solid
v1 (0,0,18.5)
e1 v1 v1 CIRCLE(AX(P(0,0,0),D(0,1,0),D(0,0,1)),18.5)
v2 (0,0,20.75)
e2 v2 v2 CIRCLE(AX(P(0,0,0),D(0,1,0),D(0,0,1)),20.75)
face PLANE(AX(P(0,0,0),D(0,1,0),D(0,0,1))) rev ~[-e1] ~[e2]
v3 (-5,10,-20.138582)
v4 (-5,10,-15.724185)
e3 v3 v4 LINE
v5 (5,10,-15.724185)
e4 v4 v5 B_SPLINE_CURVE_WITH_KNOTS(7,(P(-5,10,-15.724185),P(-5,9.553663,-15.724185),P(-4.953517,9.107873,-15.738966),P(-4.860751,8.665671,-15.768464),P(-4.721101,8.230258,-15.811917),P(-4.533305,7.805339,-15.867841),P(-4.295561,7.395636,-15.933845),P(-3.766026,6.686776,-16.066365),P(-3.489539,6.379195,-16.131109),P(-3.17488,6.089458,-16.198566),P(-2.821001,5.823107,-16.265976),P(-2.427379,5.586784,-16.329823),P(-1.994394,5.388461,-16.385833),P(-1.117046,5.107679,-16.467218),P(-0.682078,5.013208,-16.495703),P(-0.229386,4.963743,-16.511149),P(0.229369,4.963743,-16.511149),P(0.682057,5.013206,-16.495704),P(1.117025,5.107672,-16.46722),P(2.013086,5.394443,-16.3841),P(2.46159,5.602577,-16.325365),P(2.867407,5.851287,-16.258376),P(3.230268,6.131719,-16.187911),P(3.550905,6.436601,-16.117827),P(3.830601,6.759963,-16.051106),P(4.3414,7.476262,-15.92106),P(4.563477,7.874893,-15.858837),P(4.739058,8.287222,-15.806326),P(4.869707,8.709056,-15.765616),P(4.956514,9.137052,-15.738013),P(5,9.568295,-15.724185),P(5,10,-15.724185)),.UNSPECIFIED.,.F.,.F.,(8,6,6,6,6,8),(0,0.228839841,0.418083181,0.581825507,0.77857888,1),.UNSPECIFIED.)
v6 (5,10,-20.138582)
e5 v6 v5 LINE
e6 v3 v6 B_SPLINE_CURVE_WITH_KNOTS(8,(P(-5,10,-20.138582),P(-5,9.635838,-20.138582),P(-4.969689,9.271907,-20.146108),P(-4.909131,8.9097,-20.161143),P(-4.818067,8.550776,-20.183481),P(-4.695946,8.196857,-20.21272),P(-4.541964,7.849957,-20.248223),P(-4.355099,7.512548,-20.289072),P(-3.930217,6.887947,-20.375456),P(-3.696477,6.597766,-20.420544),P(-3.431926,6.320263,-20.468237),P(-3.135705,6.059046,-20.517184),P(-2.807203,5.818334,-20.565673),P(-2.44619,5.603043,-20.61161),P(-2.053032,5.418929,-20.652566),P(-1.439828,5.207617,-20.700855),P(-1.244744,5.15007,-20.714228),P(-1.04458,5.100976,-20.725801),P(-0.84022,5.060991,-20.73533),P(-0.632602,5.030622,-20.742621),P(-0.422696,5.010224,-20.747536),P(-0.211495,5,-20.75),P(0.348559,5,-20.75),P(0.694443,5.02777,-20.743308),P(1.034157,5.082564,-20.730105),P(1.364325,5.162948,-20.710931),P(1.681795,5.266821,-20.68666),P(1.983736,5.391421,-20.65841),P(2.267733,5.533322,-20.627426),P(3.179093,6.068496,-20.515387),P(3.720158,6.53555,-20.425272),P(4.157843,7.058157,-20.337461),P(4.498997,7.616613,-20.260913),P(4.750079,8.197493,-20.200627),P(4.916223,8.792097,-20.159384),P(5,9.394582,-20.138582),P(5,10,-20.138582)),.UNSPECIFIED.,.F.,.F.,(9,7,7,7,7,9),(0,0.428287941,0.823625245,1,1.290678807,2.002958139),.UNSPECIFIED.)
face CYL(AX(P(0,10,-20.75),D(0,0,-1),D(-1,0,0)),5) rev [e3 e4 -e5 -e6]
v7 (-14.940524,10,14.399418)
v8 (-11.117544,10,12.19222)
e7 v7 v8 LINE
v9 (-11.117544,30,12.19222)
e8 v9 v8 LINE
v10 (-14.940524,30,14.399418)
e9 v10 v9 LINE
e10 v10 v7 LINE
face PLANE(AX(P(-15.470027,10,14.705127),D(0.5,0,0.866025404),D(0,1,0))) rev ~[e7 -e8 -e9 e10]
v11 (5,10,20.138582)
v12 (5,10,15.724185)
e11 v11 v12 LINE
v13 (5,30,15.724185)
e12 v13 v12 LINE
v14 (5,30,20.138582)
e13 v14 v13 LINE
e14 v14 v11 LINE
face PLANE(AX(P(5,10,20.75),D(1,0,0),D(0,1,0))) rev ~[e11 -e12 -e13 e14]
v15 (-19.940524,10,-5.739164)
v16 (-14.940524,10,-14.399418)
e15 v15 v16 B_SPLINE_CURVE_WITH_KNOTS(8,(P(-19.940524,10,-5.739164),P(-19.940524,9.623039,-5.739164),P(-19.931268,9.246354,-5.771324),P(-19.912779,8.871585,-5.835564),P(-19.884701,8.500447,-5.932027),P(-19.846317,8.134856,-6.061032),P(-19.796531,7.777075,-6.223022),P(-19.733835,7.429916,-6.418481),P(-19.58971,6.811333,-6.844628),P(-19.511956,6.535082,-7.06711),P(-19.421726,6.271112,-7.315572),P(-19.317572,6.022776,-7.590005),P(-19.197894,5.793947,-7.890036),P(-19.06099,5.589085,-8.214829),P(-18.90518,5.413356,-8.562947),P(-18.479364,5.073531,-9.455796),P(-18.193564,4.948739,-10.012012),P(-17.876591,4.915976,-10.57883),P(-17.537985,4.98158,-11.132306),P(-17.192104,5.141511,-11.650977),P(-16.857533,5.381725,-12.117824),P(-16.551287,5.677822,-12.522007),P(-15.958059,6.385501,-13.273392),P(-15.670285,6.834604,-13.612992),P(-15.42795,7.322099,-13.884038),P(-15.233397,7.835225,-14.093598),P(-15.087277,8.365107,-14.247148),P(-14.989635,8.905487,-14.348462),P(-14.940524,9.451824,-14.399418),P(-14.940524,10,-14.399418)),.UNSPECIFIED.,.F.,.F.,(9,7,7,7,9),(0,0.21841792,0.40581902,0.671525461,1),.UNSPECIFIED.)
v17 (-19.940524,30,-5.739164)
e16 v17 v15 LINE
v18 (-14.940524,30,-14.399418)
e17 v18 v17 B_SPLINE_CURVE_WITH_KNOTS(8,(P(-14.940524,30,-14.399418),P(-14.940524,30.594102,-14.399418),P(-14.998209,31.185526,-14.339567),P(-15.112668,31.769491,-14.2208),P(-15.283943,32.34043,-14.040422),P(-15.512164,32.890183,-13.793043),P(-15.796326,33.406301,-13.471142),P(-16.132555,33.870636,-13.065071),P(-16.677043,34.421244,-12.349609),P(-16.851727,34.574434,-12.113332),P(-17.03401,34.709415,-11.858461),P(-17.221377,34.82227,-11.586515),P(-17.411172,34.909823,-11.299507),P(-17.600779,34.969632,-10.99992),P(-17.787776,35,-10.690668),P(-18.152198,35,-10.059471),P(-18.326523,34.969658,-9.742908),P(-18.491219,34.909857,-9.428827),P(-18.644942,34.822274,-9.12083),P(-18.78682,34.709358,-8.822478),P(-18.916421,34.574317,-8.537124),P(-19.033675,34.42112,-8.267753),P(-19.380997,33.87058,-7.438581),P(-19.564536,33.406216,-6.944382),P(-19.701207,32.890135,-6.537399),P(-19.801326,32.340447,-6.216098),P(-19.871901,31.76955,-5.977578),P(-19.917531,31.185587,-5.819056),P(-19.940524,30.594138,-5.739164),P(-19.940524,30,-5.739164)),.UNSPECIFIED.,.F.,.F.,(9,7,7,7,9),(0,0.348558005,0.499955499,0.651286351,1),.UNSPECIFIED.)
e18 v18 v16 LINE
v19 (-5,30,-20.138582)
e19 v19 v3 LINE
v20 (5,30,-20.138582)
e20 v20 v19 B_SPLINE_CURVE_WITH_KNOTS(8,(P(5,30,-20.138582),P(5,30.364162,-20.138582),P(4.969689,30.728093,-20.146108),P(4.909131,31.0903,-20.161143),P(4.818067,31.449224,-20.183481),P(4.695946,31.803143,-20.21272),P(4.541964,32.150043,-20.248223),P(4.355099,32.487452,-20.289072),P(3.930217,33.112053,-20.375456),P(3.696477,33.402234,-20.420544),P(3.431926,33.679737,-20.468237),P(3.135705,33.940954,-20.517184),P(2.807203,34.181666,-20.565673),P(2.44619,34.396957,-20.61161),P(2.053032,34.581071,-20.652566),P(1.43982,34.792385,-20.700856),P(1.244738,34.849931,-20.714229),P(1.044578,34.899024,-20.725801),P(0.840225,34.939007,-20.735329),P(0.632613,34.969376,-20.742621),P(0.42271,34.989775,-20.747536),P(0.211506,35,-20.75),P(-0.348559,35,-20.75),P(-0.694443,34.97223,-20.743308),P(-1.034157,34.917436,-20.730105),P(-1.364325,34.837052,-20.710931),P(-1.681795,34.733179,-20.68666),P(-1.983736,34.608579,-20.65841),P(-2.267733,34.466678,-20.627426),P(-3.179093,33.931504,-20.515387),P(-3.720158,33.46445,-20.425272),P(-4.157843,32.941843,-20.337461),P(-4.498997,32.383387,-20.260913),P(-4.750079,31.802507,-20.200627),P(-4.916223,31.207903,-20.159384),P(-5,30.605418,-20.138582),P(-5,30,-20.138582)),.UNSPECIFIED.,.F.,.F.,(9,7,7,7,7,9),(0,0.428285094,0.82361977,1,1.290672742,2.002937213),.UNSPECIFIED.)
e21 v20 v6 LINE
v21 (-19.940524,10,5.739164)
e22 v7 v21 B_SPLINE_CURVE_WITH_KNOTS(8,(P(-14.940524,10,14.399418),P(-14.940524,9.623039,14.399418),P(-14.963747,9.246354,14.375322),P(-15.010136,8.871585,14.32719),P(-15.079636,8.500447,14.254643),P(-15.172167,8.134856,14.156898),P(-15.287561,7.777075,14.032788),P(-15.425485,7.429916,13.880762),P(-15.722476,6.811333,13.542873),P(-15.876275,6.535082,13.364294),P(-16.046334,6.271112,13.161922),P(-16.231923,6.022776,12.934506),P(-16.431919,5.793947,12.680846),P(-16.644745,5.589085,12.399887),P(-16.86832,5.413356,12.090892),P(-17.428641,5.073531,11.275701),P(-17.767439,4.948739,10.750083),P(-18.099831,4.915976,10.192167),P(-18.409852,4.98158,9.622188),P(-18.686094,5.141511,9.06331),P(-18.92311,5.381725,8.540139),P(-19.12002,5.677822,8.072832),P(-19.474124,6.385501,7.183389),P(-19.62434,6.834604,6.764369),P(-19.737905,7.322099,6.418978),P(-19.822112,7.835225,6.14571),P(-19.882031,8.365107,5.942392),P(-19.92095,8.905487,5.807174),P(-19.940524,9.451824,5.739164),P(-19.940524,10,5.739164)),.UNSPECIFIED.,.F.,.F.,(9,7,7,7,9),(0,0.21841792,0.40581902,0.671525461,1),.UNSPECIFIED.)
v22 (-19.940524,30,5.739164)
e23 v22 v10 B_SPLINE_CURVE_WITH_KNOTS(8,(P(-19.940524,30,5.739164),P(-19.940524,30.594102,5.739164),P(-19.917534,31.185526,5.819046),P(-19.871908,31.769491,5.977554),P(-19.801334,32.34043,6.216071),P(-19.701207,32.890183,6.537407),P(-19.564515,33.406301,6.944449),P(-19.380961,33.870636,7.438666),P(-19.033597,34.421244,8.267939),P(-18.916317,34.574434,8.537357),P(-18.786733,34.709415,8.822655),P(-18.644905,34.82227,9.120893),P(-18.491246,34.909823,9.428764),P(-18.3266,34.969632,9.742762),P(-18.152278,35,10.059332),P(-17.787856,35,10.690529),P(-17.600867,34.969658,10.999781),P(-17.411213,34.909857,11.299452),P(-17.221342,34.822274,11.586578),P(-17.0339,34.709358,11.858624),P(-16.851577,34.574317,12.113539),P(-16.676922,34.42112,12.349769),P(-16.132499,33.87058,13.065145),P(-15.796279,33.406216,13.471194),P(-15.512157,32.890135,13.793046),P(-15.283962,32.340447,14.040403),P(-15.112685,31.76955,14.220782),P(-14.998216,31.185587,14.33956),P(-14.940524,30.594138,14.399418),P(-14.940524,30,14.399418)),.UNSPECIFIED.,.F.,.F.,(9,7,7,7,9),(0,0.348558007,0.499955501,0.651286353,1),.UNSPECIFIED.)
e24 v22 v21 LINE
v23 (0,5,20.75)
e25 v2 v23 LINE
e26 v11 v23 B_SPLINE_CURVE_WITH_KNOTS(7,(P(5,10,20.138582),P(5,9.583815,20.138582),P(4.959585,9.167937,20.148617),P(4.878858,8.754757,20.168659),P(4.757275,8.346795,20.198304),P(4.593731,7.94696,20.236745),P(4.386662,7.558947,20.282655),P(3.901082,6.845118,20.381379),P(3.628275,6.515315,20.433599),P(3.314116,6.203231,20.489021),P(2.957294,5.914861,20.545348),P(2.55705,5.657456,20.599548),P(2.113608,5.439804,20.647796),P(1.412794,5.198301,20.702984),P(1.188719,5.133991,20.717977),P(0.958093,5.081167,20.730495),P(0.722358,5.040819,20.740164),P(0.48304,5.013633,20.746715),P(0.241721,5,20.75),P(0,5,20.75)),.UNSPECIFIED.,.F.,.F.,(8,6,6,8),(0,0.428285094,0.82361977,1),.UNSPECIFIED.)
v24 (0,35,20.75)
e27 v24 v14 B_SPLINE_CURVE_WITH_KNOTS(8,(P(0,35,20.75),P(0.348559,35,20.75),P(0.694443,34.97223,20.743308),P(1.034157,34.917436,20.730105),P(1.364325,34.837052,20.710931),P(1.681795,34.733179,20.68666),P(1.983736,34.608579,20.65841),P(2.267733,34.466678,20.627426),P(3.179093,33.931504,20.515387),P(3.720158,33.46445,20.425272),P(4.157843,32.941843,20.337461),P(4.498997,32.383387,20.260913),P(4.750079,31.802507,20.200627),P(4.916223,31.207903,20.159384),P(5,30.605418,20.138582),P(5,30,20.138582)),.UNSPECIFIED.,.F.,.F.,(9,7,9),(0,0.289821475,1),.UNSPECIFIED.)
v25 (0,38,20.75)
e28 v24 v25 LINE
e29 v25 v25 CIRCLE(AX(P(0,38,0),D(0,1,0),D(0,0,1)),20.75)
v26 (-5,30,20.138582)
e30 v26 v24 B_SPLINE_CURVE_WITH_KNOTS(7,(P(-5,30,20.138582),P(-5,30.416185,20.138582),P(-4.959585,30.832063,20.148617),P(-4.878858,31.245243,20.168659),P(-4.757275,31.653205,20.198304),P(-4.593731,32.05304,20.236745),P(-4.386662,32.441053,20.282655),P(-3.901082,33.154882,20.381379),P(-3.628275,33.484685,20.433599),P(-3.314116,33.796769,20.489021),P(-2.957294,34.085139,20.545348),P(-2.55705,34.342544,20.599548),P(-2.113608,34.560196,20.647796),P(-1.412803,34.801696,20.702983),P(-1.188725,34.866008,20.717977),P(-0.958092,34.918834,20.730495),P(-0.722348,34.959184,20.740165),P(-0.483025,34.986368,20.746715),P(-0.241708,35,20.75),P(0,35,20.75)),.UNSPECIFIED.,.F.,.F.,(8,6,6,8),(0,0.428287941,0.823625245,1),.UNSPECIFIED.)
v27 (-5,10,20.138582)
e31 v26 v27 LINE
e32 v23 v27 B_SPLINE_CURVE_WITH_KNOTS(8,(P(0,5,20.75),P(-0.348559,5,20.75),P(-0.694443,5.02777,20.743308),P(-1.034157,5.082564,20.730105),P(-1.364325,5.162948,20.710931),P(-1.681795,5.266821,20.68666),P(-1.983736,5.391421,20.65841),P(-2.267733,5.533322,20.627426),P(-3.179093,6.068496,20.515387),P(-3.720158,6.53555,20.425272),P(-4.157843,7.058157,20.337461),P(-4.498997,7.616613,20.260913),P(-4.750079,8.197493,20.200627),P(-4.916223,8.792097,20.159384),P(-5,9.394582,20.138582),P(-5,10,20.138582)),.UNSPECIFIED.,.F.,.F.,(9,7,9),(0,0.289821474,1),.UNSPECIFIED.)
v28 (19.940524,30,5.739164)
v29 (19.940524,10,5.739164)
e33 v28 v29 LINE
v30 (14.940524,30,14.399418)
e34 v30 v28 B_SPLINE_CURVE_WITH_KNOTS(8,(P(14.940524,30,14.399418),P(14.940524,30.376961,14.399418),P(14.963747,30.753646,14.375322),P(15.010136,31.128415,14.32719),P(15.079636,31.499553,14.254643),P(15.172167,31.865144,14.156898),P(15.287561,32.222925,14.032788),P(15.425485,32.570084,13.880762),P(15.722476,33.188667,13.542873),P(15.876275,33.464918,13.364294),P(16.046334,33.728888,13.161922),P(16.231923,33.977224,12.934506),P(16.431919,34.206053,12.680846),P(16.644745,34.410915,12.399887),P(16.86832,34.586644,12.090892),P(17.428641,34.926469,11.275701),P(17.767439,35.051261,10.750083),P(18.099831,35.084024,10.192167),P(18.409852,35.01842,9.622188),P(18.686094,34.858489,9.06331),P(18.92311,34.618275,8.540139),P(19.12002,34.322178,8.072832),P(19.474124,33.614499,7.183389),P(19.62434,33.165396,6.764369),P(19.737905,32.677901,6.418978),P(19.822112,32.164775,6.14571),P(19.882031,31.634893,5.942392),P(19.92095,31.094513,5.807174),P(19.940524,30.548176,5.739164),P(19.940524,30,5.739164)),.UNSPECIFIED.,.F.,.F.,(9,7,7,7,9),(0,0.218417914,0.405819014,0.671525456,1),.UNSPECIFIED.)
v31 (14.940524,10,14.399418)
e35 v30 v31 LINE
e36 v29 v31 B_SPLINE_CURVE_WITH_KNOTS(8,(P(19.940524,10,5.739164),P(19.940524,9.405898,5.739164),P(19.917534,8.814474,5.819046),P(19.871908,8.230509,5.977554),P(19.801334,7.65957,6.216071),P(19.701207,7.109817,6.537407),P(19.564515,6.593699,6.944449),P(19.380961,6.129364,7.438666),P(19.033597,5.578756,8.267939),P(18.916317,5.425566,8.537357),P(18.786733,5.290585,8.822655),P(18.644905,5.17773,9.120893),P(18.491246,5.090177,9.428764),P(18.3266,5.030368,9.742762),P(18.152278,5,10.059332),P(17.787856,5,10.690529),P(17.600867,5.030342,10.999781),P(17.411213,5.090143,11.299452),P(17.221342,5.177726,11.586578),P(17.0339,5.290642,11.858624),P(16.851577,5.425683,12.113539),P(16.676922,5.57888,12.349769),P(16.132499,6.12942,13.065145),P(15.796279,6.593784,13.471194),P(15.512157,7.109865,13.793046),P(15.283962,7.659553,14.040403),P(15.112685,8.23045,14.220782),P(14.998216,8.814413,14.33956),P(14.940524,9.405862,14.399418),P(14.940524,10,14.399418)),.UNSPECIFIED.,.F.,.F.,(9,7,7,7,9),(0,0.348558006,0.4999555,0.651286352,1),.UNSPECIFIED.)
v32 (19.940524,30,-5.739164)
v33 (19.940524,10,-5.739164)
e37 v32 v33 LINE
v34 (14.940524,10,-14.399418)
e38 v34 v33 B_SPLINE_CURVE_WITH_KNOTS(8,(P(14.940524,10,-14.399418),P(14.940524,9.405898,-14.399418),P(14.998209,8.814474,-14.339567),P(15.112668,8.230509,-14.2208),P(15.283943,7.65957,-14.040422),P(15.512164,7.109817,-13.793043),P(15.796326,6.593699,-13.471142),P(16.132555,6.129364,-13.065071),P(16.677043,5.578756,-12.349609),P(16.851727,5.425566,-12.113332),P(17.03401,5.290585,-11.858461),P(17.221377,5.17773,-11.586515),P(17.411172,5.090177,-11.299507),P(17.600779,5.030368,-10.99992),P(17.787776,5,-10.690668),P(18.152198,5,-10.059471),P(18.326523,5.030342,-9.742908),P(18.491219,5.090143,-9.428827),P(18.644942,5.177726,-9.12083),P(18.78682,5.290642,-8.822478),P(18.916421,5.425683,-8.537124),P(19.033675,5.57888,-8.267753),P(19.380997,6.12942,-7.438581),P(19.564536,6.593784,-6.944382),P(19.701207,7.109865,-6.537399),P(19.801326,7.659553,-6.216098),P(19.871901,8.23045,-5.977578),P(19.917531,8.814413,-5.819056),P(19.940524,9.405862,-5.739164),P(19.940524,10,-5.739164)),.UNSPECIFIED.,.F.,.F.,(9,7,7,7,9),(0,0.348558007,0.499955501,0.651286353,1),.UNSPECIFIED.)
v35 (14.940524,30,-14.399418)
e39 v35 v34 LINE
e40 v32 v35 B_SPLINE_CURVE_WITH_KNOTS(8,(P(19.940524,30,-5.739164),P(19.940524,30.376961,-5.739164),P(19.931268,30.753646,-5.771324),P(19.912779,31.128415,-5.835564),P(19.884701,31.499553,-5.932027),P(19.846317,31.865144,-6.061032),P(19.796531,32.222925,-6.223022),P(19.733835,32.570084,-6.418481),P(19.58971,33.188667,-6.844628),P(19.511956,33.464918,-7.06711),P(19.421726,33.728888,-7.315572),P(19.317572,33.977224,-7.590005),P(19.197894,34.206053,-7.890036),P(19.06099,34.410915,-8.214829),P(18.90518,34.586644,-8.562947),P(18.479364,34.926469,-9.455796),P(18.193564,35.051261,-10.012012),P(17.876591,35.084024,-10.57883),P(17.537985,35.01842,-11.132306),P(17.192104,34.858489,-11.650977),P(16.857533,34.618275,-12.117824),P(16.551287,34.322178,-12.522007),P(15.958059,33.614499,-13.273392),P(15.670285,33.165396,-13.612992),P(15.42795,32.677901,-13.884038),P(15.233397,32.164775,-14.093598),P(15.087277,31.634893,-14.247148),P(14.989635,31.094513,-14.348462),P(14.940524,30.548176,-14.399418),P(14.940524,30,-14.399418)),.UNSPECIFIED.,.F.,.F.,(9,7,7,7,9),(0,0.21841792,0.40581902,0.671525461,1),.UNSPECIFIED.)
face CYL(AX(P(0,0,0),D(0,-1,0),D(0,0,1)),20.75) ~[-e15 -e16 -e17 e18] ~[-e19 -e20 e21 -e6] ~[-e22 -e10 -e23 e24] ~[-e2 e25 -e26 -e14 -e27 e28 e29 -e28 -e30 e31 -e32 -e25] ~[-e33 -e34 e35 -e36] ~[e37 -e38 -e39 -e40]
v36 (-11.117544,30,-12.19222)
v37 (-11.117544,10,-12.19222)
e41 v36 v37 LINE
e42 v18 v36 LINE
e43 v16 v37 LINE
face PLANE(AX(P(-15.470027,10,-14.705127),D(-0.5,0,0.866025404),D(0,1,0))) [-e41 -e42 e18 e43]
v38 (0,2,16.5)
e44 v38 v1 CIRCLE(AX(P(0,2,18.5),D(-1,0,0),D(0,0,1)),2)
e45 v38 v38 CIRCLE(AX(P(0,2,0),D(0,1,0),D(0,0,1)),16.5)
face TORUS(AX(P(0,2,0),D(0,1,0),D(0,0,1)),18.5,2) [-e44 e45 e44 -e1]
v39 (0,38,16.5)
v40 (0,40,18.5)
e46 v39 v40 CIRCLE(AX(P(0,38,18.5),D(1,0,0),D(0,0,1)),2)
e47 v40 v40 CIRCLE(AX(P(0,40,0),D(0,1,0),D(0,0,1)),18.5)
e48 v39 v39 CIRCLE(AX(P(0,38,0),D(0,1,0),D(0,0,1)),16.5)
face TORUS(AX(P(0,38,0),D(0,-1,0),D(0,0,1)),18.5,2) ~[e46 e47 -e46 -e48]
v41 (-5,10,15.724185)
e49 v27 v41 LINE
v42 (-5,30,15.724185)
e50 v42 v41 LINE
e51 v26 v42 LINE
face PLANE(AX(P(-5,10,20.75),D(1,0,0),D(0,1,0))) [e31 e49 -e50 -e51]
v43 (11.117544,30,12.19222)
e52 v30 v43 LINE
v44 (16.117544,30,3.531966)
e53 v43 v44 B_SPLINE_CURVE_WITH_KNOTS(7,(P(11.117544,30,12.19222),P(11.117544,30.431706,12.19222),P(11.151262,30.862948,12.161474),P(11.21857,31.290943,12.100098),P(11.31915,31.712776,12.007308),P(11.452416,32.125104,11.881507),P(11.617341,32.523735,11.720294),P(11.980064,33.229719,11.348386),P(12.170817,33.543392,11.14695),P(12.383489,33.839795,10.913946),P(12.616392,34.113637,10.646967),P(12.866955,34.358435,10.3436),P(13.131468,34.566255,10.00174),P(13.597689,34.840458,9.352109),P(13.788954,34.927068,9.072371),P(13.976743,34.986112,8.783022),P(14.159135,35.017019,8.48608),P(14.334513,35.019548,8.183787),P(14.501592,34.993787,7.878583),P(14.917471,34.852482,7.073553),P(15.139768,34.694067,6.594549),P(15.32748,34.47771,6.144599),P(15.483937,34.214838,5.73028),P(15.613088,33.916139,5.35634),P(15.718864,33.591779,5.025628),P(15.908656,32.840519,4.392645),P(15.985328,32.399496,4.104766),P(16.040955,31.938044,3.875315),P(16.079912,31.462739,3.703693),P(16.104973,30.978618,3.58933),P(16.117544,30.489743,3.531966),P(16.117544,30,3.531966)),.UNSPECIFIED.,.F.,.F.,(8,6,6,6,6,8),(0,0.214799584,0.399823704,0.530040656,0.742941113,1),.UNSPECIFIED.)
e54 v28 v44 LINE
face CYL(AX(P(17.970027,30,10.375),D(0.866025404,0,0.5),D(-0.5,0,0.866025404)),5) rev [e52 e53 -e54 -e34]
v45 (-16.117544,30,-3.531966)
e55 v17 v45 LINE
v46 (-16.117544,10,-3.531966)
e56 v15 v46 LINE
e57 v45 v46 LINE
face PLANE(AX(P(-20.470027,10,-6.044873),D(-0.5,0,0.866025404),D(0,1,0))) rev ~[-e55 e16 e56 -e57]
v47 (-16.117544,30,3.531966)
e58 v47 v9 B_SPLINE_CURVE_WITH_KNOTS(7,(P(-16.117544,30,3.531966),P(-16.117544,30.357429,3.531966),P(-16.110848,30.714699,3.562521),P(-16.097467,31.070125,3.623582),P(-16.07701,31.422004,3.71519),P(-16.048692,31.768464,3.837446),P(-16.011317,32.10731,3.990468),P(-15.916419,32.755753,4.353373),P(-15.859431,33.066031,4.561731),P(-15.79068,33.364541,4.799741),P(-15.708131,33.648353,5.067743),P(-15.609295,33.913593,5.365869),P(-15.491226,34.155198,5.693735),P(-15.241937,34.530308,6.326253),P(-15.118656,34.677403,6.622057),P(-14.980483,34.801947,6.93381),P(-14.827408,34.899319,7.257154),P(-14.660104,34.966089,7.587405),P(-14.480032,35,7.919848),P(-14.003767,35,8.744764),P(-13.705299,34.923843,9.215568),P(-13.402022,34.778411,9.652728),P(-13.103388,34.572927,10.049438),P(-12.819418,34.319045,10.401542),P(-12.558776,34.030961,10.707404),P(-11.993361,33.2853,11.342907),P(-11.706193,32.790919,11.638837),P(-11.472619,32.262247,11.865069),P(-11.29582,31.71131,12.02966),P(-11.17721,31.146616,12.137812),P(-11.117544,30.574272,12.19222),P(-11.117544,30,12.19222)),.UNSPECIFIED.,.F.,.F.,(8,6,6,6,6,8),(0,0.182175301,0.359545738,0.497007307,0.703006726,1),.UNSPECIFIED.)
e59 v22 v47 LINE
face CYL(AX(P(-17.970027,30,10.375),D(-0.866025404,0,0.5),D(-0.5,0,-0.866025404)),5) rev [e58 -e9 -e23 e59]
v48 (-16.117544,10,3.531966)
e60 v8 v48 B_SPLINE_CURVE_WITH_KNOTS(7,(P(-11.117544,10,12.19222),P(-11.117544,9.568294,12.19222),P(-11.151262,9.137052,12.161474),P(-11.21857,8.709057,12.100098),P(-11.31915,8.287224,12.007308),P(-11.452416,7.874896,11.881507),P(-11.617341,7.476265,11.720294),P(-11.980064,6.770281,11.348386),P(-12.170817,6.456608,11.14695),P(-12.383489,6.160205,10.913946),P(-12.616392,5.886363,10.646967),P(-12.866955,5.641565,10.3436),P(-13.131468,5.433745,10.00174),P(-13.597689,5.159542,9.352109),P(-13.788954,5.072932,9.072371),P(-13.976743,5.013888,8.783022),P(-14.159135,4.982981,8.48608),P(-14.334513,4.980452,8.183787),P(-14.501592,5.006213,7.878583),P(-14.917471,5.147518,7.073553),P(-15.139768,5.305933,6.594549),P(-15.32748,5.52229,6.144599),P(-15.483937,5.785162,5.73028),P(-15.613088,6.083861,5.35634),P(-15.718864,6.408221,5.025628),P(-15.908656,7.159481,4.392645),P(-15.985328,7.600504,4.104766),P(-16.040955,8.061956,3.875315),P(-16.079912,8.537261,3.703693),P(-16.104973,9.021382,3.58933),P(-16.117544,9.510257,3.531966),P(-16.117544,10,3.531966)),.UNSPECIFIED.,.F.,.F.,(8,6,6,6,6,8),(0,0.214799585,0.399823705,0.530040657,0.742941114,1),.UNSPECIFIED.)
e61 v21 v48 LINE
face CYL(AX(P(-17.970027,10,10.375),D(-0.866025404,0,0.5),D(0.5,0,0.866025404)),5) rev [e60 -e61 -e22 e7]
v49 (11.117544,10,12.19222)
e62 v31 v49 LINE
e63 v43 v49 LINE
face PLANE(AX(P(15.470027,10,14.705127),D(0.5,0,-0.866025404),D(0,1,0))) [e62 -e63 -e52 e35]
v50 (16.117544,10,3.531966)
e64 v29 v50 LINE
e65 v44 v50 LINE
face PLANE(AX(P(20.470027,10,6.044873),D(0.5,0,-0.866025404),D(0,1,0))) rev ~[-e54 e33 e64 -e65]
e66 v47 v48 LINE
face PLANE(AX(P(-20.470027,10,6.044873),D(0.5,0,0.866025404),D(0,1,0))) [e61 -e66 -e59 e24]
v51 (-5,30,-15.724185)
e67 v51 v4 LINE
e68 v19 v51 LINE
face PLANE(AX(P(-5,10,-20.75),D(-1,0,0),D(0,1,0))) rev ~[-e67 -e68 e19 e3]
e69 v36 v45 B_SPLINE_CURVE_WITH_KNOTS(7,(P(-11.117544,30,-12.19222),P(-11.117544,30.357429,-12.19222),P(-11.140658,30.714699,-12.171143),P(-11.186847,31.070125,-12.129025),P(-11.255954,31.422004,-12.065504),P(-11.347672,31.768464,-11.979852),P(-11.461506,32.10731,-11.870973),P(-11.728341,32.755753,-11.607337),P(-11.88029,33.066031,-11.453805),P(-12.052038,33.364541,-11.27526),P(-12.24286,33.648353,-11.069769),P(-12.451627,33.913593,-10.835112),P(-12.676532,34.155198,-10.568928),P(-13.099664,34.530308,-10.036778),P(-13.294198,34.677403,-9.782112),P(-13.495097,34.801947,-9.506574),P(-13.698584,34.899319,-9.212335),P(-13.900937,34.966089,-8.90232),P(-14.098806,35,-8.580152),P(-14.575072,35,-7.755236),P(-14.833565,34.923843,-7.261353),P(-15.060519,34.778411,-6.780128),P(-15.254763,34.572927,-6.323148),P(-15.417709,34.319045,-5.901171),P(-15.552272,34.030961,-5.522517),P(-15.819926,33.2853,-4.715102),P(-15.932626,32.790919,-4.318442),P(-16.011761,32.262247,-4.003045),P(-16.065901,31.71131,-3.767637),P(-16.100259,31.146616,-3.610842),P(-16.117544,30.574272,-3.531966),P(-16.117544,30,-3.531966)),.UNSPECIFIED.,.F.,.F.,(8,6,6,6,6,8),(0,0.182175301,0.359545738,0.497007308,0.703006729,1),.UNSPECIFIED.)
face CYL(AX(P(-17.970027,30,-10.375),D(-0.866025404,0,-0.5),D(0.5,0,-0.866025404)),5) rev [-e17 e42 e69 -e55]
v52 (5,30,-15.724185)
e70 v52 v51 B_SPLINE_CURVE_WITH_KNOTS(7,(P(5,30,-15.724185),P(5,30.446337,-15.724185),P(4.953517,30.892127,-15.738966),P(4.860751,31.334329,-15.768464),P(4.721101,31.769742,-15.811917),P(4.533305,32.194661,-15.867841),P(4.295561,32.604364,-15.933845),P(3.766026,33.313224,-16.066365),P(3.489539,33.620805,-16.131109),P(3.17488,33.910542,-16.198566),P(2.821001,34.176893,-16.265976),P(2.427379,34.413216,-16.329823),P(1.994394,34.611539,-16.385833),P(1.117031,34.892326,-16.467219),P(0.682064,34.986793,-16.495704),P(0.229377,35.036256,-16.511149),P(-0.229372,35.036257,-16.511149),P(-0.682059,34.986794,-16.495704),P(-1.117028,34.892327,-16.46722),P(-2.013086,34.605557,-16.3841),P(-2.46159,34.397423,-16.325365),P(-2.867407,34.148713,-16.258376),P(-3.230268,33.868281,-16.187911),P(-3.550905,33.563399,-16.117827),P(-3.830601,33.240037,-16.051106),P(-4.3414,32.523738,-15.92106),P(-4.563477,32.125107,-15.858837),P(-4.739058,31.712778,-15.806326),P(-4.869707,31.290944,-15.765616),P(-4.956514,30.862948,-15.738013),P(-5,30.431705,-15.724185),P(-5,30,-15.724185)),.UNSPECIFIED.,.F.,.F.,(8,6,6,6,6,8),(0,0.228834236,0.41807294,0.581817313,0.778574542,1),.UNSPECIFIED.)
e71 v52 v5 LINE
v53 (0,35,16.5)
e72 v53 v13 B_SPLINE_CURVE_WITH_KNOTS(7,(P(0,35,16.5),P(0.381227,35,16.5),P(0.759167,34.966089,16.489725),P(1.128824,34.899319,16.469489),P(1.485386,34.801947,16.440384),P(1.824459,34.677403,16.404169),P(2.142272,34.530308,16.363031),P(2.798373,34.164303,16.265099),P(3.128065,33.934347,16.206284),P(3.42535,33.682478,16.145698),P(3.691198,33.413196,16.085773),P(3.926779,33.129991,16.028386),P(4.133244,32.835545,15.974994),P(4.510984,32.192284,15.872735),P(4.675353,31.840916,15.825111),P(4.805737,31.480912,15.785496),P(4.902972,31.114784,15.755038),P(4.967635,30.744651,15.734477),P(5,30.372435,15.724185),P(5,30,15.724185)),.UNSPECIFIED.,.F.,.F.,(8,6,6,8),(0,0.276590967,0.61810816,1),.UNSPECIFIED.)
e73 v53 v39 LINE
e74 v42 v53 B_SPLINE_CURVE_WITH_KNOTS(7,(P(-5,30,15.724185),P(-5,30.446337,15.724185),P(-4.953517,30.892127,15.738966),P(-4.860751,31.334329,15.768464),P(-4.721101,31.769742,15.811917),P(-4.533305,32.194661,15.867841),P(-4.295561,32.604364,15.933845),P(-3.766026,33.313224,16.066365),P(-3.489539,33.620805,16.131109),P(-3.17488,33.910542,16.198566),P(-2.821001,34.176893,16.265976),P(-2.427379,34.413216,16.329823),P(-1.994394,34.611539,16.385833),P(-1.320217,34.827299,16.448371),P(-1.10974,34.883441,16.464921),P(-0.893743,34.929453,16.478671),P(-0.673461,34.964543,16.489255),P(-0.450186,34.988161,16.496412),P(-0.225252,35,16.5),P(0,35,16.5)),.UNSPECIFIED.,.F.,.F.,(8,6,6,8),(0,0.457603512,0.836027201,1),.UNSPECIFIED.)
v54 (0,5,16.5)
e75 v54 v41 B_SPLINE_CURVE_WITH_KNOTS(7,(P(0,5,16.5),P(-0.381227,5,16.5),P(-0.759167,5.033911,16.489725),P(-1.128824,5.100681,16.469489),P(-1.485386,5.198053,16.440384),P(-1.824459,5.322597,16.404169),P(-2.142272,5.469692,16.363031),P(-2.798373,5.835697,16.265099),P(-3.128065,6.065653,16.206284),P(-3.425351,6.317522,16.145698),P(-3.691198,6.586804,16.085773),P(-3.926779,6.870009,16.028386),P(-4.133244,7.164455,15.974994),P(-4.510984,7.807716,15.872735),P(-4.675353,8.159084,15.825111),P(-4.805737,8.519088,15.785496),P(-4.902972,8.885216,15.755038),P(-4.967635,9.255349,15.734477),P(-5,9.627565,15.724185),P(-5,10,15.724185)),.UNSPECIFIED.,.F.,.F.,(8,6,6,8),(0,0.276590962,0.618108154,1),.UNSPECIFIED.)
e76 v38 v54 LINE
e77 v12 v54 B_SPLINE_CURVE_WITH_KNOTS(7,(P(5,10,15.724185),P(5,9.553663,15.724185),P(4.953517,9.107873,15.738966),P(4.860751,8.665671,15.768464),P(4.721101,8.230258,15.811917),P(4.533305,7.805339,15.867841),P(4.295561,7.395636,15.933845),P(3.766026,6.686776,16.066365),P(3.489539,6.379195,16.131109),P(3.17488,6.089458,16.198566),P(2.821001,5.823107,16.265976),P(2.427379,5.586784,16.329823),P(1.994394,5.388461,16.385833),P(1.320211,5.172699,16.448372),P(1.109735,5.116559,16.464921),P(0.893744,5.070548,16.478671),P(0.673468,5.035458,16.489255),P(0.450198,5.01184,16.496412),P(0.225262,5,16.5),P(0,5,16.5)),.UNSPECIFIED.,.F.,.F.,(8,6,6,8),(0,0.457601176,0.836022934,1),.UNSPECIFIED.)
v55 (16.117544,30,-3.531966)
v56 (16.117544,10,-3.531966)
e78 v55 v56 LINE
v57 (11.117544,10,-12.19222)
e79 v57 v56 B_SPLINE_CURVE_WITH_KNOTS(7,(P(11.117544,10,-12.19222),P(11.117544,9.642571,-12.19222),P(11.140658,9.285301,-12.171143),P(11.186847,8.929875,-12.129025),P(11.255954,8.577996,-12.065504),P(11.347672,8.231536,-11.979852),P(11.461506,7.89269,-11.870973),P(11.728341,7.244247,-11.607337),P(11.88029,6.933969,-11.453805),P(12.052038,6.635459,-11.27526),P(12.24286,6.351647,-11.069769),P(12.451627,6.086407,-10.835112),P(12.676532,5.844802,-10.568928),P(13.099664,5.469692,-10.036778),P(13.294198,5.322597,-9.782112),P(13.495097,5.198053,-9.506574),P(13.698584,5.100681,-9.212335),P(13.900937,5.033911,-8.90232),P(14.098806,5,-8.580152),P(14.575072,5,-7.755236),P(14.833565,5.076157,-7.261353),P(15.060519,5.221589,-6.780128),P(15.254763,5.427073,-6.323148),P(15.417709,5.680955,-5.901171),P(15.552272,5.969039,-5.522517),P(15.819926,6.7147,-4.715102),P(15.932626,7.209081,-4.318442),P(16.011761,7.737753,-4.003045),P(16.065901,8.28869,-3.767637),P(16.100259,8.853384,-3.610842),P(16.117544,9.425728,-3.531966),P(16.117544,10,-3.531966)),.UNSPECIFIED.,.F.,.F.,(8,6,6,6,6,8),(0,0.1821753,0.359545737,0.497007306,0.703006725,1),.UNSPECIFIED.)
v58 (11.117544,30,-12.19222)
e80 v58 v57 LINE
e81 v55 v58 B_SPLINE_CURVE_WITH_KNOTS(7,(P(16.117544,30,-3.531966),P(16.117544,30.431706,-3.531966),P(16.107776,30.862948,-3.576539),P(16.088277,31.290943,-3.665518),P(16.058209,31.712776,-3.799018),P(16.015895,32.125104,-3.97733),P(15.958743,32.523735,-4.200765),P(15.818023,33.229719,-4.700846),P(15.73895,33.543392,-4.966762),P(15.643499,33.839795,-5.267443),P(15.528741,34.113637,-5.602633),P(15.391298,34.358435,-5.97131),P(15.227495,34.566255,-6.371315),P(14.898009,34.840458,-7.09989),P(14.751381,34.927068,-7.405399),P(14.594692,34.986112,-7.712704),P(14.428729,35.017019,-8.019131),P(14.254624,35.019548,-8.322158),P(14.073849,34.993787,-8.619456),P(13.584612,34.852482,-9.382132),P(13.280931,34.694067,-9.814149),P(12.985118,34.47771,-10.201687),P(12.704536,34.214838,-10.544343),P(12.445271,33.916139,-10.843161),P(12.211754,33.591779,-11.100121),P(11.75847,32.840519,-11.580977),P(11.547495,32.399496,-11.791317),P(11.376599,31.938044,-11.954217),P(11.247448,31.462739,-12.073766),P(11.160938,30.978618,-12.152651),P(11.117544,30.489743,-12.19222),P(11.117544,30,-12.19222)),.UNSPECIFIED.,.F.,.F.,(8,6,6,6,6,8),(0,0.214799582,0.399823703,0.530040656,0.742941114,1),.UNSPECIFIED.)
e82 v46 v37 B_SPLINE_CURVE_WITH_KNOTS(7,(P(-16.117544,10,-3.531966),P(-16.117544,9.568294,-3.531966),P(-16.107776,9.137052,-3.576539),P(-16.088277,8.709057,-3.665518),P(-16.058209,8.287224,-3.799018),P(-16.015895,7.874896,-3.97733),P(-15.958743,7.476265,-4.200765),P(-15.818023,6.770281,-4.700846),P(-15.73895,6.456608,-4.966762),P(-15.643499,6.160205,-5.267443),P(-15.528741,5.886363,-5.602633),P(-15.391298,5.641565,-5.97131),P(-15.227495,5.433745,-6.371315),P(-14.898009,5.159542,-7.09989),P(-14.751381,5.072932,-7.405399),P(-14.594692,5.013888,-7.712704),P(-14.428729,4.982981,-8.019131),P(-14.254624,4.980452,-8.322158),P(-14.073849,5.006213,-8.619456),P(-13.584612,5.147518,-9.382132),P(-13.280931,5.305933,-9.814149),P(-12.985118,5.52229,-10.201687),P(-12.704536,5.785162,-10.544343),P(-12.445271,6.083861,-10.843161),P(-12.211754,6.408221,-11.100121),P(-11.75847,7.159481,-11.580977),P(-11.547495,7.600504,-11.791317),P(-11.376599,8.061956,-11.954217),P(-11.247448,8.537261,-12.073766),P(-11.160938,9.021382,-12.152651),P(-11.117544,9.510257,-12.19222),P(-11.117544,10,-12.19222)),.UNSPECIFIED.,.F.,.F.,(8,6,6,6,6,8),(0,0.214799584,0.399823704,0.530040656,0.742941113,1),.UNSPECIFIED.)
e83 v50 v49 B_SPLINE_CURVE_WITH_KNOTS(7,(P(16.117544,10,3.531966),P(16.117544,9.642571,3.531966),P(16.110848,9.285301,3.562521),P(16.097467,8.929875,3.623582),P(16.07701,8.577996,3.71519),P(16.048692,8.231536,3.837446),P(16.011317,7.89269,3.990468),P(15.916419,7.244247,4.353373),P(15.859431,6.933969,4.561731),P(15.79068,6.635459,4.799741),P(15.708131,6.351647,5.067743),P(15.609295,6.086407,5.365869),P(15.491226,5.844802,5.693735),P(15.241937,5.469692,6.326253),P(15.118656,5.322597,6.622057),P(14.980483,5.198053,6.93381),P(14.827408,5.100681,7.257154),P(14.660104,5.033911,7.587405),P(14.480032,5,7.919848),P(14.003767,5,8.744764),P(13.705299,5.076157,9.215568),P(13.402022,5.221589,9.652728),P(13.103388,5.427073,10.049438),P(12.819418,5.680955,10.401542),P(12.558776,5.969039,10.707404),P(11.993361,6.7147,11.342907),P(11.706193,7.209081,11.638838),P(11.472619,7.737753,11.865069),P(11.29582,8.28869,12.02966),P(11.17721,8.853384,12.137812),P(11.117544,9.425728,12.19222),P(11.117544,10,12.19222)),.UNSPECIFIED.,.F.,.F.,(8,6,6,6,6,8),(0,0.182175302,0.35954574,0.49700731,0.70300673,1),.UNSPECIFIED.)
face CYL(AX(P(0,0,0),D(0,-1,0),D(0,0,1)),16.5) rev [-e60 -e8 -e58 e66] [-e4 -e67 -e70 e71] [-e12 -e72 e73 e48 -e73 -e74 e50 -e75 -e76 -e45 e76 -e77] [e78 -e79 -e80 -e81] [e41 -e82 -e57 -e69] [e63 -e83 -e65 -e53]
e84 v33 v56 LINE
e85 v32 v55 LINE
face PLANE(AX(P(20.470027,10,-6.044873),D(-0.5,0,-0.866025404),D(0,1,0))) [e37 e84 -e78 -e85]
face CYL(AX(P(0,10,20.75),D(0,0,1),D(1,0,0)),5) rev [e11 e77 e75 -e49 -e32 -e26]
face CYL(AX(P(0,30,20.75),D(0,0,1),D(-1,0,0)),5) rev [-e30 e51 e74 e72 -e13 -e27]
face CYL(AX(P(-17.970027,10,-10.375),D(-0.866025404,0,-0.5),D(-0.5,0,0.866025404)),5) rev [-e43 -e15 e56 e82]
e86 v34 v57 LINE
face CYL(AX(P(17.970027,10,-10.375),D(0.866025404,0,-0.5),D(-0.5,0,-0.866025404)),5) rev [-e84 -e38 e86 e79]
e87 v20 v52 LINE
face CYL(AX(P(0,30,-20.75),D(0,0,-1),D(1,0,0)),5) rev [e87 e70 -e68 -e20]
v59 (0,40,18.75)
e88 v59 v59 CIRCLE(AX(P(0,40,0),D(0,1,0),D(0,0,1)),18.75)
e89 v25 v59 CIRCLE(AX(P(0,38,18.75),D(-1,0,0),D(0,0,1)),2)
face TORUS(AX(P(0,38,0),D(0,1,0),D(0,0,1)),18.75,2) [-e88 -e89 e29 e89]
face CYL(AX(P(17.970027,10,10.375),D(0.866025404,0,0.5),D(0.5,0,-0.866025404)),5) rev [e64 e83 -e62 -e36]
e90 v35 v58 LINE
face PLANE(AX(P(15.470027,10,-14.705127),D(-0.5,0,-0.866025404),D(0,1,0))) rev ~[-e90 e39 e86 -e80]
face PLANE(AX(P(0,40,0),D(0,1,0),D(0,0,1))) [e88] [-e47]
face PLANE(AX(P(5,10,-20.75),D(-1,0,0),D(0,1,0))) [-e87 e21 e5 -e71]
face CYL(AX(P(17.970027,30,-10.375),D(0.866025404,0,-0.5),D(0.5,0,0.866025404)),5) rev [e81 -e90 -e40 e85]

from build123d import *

# Parameters (mm, degrees)
SKETCH1_R           = 20.75
SKETCH1_R_2         = 16.5
BOSS_EXTRUDE1_DEPTH = 40
CUT_EXTRUDE1_DEPTH  = 20
CIRPATTERN1_COUNT   = 6
FILLET1_R           = 2


with BuildPart() as part:
    # Sketch1 → Boss-Extrude1 (new body)
    with BuildSketch(Plane(origin=(0, 0, 0), x_dir=(1, 0, 0), z_dir=(0, 1, 0))):
        Circle(SKETCH1_R)
        Circle(SKETCH1_R_2, mode=Mode.SUBTRACT)
    extrude(amount=BOSS_EXTRUDE1_DEPTH)

    # Sketch2 → Cut-Extrude1 (cut)
    with BuildSketch(Plane.XY.offset(20.75)):
        with BuildLine():
            ThreePointArc((5, 30), (0, 35), (-5, 30))
            Line((-5, 30), (-5, 10))
            ThreePointArc((-5, 10), (0, 5), (5, 10))
            Line((5, 10), (5, 30))
        make_face()
    cut_extrude1 = extrude(amount=-CUT_EXTRUDE1_DEPTH, mode=Mode.SUBTRACT)

    # CirPattern1: Cut-Extrude1 ×6 about axis
    cirpattern1_axis = Axis((0, 40, 0), (0, -1, 0))
    for i in range(1, CIRPATTERN1_COUNT):
        add(cut_extrude1.rotate(cirpattern1_axis, i * 360 / CIRPATTERN1_COUNT), mode=Mode.SUBTRACT)

    # Fillet1
    fillet1_edges = [part.edges().sort_by_distance(p)[0] for p in [
        (-20.75, 40, 0),
        (-16.5, 0, 0),
        (-16.5, 40, 0),
    ]]
    fillet(fillet1_edges, radius=FILLET1_R)


solid = part.part
